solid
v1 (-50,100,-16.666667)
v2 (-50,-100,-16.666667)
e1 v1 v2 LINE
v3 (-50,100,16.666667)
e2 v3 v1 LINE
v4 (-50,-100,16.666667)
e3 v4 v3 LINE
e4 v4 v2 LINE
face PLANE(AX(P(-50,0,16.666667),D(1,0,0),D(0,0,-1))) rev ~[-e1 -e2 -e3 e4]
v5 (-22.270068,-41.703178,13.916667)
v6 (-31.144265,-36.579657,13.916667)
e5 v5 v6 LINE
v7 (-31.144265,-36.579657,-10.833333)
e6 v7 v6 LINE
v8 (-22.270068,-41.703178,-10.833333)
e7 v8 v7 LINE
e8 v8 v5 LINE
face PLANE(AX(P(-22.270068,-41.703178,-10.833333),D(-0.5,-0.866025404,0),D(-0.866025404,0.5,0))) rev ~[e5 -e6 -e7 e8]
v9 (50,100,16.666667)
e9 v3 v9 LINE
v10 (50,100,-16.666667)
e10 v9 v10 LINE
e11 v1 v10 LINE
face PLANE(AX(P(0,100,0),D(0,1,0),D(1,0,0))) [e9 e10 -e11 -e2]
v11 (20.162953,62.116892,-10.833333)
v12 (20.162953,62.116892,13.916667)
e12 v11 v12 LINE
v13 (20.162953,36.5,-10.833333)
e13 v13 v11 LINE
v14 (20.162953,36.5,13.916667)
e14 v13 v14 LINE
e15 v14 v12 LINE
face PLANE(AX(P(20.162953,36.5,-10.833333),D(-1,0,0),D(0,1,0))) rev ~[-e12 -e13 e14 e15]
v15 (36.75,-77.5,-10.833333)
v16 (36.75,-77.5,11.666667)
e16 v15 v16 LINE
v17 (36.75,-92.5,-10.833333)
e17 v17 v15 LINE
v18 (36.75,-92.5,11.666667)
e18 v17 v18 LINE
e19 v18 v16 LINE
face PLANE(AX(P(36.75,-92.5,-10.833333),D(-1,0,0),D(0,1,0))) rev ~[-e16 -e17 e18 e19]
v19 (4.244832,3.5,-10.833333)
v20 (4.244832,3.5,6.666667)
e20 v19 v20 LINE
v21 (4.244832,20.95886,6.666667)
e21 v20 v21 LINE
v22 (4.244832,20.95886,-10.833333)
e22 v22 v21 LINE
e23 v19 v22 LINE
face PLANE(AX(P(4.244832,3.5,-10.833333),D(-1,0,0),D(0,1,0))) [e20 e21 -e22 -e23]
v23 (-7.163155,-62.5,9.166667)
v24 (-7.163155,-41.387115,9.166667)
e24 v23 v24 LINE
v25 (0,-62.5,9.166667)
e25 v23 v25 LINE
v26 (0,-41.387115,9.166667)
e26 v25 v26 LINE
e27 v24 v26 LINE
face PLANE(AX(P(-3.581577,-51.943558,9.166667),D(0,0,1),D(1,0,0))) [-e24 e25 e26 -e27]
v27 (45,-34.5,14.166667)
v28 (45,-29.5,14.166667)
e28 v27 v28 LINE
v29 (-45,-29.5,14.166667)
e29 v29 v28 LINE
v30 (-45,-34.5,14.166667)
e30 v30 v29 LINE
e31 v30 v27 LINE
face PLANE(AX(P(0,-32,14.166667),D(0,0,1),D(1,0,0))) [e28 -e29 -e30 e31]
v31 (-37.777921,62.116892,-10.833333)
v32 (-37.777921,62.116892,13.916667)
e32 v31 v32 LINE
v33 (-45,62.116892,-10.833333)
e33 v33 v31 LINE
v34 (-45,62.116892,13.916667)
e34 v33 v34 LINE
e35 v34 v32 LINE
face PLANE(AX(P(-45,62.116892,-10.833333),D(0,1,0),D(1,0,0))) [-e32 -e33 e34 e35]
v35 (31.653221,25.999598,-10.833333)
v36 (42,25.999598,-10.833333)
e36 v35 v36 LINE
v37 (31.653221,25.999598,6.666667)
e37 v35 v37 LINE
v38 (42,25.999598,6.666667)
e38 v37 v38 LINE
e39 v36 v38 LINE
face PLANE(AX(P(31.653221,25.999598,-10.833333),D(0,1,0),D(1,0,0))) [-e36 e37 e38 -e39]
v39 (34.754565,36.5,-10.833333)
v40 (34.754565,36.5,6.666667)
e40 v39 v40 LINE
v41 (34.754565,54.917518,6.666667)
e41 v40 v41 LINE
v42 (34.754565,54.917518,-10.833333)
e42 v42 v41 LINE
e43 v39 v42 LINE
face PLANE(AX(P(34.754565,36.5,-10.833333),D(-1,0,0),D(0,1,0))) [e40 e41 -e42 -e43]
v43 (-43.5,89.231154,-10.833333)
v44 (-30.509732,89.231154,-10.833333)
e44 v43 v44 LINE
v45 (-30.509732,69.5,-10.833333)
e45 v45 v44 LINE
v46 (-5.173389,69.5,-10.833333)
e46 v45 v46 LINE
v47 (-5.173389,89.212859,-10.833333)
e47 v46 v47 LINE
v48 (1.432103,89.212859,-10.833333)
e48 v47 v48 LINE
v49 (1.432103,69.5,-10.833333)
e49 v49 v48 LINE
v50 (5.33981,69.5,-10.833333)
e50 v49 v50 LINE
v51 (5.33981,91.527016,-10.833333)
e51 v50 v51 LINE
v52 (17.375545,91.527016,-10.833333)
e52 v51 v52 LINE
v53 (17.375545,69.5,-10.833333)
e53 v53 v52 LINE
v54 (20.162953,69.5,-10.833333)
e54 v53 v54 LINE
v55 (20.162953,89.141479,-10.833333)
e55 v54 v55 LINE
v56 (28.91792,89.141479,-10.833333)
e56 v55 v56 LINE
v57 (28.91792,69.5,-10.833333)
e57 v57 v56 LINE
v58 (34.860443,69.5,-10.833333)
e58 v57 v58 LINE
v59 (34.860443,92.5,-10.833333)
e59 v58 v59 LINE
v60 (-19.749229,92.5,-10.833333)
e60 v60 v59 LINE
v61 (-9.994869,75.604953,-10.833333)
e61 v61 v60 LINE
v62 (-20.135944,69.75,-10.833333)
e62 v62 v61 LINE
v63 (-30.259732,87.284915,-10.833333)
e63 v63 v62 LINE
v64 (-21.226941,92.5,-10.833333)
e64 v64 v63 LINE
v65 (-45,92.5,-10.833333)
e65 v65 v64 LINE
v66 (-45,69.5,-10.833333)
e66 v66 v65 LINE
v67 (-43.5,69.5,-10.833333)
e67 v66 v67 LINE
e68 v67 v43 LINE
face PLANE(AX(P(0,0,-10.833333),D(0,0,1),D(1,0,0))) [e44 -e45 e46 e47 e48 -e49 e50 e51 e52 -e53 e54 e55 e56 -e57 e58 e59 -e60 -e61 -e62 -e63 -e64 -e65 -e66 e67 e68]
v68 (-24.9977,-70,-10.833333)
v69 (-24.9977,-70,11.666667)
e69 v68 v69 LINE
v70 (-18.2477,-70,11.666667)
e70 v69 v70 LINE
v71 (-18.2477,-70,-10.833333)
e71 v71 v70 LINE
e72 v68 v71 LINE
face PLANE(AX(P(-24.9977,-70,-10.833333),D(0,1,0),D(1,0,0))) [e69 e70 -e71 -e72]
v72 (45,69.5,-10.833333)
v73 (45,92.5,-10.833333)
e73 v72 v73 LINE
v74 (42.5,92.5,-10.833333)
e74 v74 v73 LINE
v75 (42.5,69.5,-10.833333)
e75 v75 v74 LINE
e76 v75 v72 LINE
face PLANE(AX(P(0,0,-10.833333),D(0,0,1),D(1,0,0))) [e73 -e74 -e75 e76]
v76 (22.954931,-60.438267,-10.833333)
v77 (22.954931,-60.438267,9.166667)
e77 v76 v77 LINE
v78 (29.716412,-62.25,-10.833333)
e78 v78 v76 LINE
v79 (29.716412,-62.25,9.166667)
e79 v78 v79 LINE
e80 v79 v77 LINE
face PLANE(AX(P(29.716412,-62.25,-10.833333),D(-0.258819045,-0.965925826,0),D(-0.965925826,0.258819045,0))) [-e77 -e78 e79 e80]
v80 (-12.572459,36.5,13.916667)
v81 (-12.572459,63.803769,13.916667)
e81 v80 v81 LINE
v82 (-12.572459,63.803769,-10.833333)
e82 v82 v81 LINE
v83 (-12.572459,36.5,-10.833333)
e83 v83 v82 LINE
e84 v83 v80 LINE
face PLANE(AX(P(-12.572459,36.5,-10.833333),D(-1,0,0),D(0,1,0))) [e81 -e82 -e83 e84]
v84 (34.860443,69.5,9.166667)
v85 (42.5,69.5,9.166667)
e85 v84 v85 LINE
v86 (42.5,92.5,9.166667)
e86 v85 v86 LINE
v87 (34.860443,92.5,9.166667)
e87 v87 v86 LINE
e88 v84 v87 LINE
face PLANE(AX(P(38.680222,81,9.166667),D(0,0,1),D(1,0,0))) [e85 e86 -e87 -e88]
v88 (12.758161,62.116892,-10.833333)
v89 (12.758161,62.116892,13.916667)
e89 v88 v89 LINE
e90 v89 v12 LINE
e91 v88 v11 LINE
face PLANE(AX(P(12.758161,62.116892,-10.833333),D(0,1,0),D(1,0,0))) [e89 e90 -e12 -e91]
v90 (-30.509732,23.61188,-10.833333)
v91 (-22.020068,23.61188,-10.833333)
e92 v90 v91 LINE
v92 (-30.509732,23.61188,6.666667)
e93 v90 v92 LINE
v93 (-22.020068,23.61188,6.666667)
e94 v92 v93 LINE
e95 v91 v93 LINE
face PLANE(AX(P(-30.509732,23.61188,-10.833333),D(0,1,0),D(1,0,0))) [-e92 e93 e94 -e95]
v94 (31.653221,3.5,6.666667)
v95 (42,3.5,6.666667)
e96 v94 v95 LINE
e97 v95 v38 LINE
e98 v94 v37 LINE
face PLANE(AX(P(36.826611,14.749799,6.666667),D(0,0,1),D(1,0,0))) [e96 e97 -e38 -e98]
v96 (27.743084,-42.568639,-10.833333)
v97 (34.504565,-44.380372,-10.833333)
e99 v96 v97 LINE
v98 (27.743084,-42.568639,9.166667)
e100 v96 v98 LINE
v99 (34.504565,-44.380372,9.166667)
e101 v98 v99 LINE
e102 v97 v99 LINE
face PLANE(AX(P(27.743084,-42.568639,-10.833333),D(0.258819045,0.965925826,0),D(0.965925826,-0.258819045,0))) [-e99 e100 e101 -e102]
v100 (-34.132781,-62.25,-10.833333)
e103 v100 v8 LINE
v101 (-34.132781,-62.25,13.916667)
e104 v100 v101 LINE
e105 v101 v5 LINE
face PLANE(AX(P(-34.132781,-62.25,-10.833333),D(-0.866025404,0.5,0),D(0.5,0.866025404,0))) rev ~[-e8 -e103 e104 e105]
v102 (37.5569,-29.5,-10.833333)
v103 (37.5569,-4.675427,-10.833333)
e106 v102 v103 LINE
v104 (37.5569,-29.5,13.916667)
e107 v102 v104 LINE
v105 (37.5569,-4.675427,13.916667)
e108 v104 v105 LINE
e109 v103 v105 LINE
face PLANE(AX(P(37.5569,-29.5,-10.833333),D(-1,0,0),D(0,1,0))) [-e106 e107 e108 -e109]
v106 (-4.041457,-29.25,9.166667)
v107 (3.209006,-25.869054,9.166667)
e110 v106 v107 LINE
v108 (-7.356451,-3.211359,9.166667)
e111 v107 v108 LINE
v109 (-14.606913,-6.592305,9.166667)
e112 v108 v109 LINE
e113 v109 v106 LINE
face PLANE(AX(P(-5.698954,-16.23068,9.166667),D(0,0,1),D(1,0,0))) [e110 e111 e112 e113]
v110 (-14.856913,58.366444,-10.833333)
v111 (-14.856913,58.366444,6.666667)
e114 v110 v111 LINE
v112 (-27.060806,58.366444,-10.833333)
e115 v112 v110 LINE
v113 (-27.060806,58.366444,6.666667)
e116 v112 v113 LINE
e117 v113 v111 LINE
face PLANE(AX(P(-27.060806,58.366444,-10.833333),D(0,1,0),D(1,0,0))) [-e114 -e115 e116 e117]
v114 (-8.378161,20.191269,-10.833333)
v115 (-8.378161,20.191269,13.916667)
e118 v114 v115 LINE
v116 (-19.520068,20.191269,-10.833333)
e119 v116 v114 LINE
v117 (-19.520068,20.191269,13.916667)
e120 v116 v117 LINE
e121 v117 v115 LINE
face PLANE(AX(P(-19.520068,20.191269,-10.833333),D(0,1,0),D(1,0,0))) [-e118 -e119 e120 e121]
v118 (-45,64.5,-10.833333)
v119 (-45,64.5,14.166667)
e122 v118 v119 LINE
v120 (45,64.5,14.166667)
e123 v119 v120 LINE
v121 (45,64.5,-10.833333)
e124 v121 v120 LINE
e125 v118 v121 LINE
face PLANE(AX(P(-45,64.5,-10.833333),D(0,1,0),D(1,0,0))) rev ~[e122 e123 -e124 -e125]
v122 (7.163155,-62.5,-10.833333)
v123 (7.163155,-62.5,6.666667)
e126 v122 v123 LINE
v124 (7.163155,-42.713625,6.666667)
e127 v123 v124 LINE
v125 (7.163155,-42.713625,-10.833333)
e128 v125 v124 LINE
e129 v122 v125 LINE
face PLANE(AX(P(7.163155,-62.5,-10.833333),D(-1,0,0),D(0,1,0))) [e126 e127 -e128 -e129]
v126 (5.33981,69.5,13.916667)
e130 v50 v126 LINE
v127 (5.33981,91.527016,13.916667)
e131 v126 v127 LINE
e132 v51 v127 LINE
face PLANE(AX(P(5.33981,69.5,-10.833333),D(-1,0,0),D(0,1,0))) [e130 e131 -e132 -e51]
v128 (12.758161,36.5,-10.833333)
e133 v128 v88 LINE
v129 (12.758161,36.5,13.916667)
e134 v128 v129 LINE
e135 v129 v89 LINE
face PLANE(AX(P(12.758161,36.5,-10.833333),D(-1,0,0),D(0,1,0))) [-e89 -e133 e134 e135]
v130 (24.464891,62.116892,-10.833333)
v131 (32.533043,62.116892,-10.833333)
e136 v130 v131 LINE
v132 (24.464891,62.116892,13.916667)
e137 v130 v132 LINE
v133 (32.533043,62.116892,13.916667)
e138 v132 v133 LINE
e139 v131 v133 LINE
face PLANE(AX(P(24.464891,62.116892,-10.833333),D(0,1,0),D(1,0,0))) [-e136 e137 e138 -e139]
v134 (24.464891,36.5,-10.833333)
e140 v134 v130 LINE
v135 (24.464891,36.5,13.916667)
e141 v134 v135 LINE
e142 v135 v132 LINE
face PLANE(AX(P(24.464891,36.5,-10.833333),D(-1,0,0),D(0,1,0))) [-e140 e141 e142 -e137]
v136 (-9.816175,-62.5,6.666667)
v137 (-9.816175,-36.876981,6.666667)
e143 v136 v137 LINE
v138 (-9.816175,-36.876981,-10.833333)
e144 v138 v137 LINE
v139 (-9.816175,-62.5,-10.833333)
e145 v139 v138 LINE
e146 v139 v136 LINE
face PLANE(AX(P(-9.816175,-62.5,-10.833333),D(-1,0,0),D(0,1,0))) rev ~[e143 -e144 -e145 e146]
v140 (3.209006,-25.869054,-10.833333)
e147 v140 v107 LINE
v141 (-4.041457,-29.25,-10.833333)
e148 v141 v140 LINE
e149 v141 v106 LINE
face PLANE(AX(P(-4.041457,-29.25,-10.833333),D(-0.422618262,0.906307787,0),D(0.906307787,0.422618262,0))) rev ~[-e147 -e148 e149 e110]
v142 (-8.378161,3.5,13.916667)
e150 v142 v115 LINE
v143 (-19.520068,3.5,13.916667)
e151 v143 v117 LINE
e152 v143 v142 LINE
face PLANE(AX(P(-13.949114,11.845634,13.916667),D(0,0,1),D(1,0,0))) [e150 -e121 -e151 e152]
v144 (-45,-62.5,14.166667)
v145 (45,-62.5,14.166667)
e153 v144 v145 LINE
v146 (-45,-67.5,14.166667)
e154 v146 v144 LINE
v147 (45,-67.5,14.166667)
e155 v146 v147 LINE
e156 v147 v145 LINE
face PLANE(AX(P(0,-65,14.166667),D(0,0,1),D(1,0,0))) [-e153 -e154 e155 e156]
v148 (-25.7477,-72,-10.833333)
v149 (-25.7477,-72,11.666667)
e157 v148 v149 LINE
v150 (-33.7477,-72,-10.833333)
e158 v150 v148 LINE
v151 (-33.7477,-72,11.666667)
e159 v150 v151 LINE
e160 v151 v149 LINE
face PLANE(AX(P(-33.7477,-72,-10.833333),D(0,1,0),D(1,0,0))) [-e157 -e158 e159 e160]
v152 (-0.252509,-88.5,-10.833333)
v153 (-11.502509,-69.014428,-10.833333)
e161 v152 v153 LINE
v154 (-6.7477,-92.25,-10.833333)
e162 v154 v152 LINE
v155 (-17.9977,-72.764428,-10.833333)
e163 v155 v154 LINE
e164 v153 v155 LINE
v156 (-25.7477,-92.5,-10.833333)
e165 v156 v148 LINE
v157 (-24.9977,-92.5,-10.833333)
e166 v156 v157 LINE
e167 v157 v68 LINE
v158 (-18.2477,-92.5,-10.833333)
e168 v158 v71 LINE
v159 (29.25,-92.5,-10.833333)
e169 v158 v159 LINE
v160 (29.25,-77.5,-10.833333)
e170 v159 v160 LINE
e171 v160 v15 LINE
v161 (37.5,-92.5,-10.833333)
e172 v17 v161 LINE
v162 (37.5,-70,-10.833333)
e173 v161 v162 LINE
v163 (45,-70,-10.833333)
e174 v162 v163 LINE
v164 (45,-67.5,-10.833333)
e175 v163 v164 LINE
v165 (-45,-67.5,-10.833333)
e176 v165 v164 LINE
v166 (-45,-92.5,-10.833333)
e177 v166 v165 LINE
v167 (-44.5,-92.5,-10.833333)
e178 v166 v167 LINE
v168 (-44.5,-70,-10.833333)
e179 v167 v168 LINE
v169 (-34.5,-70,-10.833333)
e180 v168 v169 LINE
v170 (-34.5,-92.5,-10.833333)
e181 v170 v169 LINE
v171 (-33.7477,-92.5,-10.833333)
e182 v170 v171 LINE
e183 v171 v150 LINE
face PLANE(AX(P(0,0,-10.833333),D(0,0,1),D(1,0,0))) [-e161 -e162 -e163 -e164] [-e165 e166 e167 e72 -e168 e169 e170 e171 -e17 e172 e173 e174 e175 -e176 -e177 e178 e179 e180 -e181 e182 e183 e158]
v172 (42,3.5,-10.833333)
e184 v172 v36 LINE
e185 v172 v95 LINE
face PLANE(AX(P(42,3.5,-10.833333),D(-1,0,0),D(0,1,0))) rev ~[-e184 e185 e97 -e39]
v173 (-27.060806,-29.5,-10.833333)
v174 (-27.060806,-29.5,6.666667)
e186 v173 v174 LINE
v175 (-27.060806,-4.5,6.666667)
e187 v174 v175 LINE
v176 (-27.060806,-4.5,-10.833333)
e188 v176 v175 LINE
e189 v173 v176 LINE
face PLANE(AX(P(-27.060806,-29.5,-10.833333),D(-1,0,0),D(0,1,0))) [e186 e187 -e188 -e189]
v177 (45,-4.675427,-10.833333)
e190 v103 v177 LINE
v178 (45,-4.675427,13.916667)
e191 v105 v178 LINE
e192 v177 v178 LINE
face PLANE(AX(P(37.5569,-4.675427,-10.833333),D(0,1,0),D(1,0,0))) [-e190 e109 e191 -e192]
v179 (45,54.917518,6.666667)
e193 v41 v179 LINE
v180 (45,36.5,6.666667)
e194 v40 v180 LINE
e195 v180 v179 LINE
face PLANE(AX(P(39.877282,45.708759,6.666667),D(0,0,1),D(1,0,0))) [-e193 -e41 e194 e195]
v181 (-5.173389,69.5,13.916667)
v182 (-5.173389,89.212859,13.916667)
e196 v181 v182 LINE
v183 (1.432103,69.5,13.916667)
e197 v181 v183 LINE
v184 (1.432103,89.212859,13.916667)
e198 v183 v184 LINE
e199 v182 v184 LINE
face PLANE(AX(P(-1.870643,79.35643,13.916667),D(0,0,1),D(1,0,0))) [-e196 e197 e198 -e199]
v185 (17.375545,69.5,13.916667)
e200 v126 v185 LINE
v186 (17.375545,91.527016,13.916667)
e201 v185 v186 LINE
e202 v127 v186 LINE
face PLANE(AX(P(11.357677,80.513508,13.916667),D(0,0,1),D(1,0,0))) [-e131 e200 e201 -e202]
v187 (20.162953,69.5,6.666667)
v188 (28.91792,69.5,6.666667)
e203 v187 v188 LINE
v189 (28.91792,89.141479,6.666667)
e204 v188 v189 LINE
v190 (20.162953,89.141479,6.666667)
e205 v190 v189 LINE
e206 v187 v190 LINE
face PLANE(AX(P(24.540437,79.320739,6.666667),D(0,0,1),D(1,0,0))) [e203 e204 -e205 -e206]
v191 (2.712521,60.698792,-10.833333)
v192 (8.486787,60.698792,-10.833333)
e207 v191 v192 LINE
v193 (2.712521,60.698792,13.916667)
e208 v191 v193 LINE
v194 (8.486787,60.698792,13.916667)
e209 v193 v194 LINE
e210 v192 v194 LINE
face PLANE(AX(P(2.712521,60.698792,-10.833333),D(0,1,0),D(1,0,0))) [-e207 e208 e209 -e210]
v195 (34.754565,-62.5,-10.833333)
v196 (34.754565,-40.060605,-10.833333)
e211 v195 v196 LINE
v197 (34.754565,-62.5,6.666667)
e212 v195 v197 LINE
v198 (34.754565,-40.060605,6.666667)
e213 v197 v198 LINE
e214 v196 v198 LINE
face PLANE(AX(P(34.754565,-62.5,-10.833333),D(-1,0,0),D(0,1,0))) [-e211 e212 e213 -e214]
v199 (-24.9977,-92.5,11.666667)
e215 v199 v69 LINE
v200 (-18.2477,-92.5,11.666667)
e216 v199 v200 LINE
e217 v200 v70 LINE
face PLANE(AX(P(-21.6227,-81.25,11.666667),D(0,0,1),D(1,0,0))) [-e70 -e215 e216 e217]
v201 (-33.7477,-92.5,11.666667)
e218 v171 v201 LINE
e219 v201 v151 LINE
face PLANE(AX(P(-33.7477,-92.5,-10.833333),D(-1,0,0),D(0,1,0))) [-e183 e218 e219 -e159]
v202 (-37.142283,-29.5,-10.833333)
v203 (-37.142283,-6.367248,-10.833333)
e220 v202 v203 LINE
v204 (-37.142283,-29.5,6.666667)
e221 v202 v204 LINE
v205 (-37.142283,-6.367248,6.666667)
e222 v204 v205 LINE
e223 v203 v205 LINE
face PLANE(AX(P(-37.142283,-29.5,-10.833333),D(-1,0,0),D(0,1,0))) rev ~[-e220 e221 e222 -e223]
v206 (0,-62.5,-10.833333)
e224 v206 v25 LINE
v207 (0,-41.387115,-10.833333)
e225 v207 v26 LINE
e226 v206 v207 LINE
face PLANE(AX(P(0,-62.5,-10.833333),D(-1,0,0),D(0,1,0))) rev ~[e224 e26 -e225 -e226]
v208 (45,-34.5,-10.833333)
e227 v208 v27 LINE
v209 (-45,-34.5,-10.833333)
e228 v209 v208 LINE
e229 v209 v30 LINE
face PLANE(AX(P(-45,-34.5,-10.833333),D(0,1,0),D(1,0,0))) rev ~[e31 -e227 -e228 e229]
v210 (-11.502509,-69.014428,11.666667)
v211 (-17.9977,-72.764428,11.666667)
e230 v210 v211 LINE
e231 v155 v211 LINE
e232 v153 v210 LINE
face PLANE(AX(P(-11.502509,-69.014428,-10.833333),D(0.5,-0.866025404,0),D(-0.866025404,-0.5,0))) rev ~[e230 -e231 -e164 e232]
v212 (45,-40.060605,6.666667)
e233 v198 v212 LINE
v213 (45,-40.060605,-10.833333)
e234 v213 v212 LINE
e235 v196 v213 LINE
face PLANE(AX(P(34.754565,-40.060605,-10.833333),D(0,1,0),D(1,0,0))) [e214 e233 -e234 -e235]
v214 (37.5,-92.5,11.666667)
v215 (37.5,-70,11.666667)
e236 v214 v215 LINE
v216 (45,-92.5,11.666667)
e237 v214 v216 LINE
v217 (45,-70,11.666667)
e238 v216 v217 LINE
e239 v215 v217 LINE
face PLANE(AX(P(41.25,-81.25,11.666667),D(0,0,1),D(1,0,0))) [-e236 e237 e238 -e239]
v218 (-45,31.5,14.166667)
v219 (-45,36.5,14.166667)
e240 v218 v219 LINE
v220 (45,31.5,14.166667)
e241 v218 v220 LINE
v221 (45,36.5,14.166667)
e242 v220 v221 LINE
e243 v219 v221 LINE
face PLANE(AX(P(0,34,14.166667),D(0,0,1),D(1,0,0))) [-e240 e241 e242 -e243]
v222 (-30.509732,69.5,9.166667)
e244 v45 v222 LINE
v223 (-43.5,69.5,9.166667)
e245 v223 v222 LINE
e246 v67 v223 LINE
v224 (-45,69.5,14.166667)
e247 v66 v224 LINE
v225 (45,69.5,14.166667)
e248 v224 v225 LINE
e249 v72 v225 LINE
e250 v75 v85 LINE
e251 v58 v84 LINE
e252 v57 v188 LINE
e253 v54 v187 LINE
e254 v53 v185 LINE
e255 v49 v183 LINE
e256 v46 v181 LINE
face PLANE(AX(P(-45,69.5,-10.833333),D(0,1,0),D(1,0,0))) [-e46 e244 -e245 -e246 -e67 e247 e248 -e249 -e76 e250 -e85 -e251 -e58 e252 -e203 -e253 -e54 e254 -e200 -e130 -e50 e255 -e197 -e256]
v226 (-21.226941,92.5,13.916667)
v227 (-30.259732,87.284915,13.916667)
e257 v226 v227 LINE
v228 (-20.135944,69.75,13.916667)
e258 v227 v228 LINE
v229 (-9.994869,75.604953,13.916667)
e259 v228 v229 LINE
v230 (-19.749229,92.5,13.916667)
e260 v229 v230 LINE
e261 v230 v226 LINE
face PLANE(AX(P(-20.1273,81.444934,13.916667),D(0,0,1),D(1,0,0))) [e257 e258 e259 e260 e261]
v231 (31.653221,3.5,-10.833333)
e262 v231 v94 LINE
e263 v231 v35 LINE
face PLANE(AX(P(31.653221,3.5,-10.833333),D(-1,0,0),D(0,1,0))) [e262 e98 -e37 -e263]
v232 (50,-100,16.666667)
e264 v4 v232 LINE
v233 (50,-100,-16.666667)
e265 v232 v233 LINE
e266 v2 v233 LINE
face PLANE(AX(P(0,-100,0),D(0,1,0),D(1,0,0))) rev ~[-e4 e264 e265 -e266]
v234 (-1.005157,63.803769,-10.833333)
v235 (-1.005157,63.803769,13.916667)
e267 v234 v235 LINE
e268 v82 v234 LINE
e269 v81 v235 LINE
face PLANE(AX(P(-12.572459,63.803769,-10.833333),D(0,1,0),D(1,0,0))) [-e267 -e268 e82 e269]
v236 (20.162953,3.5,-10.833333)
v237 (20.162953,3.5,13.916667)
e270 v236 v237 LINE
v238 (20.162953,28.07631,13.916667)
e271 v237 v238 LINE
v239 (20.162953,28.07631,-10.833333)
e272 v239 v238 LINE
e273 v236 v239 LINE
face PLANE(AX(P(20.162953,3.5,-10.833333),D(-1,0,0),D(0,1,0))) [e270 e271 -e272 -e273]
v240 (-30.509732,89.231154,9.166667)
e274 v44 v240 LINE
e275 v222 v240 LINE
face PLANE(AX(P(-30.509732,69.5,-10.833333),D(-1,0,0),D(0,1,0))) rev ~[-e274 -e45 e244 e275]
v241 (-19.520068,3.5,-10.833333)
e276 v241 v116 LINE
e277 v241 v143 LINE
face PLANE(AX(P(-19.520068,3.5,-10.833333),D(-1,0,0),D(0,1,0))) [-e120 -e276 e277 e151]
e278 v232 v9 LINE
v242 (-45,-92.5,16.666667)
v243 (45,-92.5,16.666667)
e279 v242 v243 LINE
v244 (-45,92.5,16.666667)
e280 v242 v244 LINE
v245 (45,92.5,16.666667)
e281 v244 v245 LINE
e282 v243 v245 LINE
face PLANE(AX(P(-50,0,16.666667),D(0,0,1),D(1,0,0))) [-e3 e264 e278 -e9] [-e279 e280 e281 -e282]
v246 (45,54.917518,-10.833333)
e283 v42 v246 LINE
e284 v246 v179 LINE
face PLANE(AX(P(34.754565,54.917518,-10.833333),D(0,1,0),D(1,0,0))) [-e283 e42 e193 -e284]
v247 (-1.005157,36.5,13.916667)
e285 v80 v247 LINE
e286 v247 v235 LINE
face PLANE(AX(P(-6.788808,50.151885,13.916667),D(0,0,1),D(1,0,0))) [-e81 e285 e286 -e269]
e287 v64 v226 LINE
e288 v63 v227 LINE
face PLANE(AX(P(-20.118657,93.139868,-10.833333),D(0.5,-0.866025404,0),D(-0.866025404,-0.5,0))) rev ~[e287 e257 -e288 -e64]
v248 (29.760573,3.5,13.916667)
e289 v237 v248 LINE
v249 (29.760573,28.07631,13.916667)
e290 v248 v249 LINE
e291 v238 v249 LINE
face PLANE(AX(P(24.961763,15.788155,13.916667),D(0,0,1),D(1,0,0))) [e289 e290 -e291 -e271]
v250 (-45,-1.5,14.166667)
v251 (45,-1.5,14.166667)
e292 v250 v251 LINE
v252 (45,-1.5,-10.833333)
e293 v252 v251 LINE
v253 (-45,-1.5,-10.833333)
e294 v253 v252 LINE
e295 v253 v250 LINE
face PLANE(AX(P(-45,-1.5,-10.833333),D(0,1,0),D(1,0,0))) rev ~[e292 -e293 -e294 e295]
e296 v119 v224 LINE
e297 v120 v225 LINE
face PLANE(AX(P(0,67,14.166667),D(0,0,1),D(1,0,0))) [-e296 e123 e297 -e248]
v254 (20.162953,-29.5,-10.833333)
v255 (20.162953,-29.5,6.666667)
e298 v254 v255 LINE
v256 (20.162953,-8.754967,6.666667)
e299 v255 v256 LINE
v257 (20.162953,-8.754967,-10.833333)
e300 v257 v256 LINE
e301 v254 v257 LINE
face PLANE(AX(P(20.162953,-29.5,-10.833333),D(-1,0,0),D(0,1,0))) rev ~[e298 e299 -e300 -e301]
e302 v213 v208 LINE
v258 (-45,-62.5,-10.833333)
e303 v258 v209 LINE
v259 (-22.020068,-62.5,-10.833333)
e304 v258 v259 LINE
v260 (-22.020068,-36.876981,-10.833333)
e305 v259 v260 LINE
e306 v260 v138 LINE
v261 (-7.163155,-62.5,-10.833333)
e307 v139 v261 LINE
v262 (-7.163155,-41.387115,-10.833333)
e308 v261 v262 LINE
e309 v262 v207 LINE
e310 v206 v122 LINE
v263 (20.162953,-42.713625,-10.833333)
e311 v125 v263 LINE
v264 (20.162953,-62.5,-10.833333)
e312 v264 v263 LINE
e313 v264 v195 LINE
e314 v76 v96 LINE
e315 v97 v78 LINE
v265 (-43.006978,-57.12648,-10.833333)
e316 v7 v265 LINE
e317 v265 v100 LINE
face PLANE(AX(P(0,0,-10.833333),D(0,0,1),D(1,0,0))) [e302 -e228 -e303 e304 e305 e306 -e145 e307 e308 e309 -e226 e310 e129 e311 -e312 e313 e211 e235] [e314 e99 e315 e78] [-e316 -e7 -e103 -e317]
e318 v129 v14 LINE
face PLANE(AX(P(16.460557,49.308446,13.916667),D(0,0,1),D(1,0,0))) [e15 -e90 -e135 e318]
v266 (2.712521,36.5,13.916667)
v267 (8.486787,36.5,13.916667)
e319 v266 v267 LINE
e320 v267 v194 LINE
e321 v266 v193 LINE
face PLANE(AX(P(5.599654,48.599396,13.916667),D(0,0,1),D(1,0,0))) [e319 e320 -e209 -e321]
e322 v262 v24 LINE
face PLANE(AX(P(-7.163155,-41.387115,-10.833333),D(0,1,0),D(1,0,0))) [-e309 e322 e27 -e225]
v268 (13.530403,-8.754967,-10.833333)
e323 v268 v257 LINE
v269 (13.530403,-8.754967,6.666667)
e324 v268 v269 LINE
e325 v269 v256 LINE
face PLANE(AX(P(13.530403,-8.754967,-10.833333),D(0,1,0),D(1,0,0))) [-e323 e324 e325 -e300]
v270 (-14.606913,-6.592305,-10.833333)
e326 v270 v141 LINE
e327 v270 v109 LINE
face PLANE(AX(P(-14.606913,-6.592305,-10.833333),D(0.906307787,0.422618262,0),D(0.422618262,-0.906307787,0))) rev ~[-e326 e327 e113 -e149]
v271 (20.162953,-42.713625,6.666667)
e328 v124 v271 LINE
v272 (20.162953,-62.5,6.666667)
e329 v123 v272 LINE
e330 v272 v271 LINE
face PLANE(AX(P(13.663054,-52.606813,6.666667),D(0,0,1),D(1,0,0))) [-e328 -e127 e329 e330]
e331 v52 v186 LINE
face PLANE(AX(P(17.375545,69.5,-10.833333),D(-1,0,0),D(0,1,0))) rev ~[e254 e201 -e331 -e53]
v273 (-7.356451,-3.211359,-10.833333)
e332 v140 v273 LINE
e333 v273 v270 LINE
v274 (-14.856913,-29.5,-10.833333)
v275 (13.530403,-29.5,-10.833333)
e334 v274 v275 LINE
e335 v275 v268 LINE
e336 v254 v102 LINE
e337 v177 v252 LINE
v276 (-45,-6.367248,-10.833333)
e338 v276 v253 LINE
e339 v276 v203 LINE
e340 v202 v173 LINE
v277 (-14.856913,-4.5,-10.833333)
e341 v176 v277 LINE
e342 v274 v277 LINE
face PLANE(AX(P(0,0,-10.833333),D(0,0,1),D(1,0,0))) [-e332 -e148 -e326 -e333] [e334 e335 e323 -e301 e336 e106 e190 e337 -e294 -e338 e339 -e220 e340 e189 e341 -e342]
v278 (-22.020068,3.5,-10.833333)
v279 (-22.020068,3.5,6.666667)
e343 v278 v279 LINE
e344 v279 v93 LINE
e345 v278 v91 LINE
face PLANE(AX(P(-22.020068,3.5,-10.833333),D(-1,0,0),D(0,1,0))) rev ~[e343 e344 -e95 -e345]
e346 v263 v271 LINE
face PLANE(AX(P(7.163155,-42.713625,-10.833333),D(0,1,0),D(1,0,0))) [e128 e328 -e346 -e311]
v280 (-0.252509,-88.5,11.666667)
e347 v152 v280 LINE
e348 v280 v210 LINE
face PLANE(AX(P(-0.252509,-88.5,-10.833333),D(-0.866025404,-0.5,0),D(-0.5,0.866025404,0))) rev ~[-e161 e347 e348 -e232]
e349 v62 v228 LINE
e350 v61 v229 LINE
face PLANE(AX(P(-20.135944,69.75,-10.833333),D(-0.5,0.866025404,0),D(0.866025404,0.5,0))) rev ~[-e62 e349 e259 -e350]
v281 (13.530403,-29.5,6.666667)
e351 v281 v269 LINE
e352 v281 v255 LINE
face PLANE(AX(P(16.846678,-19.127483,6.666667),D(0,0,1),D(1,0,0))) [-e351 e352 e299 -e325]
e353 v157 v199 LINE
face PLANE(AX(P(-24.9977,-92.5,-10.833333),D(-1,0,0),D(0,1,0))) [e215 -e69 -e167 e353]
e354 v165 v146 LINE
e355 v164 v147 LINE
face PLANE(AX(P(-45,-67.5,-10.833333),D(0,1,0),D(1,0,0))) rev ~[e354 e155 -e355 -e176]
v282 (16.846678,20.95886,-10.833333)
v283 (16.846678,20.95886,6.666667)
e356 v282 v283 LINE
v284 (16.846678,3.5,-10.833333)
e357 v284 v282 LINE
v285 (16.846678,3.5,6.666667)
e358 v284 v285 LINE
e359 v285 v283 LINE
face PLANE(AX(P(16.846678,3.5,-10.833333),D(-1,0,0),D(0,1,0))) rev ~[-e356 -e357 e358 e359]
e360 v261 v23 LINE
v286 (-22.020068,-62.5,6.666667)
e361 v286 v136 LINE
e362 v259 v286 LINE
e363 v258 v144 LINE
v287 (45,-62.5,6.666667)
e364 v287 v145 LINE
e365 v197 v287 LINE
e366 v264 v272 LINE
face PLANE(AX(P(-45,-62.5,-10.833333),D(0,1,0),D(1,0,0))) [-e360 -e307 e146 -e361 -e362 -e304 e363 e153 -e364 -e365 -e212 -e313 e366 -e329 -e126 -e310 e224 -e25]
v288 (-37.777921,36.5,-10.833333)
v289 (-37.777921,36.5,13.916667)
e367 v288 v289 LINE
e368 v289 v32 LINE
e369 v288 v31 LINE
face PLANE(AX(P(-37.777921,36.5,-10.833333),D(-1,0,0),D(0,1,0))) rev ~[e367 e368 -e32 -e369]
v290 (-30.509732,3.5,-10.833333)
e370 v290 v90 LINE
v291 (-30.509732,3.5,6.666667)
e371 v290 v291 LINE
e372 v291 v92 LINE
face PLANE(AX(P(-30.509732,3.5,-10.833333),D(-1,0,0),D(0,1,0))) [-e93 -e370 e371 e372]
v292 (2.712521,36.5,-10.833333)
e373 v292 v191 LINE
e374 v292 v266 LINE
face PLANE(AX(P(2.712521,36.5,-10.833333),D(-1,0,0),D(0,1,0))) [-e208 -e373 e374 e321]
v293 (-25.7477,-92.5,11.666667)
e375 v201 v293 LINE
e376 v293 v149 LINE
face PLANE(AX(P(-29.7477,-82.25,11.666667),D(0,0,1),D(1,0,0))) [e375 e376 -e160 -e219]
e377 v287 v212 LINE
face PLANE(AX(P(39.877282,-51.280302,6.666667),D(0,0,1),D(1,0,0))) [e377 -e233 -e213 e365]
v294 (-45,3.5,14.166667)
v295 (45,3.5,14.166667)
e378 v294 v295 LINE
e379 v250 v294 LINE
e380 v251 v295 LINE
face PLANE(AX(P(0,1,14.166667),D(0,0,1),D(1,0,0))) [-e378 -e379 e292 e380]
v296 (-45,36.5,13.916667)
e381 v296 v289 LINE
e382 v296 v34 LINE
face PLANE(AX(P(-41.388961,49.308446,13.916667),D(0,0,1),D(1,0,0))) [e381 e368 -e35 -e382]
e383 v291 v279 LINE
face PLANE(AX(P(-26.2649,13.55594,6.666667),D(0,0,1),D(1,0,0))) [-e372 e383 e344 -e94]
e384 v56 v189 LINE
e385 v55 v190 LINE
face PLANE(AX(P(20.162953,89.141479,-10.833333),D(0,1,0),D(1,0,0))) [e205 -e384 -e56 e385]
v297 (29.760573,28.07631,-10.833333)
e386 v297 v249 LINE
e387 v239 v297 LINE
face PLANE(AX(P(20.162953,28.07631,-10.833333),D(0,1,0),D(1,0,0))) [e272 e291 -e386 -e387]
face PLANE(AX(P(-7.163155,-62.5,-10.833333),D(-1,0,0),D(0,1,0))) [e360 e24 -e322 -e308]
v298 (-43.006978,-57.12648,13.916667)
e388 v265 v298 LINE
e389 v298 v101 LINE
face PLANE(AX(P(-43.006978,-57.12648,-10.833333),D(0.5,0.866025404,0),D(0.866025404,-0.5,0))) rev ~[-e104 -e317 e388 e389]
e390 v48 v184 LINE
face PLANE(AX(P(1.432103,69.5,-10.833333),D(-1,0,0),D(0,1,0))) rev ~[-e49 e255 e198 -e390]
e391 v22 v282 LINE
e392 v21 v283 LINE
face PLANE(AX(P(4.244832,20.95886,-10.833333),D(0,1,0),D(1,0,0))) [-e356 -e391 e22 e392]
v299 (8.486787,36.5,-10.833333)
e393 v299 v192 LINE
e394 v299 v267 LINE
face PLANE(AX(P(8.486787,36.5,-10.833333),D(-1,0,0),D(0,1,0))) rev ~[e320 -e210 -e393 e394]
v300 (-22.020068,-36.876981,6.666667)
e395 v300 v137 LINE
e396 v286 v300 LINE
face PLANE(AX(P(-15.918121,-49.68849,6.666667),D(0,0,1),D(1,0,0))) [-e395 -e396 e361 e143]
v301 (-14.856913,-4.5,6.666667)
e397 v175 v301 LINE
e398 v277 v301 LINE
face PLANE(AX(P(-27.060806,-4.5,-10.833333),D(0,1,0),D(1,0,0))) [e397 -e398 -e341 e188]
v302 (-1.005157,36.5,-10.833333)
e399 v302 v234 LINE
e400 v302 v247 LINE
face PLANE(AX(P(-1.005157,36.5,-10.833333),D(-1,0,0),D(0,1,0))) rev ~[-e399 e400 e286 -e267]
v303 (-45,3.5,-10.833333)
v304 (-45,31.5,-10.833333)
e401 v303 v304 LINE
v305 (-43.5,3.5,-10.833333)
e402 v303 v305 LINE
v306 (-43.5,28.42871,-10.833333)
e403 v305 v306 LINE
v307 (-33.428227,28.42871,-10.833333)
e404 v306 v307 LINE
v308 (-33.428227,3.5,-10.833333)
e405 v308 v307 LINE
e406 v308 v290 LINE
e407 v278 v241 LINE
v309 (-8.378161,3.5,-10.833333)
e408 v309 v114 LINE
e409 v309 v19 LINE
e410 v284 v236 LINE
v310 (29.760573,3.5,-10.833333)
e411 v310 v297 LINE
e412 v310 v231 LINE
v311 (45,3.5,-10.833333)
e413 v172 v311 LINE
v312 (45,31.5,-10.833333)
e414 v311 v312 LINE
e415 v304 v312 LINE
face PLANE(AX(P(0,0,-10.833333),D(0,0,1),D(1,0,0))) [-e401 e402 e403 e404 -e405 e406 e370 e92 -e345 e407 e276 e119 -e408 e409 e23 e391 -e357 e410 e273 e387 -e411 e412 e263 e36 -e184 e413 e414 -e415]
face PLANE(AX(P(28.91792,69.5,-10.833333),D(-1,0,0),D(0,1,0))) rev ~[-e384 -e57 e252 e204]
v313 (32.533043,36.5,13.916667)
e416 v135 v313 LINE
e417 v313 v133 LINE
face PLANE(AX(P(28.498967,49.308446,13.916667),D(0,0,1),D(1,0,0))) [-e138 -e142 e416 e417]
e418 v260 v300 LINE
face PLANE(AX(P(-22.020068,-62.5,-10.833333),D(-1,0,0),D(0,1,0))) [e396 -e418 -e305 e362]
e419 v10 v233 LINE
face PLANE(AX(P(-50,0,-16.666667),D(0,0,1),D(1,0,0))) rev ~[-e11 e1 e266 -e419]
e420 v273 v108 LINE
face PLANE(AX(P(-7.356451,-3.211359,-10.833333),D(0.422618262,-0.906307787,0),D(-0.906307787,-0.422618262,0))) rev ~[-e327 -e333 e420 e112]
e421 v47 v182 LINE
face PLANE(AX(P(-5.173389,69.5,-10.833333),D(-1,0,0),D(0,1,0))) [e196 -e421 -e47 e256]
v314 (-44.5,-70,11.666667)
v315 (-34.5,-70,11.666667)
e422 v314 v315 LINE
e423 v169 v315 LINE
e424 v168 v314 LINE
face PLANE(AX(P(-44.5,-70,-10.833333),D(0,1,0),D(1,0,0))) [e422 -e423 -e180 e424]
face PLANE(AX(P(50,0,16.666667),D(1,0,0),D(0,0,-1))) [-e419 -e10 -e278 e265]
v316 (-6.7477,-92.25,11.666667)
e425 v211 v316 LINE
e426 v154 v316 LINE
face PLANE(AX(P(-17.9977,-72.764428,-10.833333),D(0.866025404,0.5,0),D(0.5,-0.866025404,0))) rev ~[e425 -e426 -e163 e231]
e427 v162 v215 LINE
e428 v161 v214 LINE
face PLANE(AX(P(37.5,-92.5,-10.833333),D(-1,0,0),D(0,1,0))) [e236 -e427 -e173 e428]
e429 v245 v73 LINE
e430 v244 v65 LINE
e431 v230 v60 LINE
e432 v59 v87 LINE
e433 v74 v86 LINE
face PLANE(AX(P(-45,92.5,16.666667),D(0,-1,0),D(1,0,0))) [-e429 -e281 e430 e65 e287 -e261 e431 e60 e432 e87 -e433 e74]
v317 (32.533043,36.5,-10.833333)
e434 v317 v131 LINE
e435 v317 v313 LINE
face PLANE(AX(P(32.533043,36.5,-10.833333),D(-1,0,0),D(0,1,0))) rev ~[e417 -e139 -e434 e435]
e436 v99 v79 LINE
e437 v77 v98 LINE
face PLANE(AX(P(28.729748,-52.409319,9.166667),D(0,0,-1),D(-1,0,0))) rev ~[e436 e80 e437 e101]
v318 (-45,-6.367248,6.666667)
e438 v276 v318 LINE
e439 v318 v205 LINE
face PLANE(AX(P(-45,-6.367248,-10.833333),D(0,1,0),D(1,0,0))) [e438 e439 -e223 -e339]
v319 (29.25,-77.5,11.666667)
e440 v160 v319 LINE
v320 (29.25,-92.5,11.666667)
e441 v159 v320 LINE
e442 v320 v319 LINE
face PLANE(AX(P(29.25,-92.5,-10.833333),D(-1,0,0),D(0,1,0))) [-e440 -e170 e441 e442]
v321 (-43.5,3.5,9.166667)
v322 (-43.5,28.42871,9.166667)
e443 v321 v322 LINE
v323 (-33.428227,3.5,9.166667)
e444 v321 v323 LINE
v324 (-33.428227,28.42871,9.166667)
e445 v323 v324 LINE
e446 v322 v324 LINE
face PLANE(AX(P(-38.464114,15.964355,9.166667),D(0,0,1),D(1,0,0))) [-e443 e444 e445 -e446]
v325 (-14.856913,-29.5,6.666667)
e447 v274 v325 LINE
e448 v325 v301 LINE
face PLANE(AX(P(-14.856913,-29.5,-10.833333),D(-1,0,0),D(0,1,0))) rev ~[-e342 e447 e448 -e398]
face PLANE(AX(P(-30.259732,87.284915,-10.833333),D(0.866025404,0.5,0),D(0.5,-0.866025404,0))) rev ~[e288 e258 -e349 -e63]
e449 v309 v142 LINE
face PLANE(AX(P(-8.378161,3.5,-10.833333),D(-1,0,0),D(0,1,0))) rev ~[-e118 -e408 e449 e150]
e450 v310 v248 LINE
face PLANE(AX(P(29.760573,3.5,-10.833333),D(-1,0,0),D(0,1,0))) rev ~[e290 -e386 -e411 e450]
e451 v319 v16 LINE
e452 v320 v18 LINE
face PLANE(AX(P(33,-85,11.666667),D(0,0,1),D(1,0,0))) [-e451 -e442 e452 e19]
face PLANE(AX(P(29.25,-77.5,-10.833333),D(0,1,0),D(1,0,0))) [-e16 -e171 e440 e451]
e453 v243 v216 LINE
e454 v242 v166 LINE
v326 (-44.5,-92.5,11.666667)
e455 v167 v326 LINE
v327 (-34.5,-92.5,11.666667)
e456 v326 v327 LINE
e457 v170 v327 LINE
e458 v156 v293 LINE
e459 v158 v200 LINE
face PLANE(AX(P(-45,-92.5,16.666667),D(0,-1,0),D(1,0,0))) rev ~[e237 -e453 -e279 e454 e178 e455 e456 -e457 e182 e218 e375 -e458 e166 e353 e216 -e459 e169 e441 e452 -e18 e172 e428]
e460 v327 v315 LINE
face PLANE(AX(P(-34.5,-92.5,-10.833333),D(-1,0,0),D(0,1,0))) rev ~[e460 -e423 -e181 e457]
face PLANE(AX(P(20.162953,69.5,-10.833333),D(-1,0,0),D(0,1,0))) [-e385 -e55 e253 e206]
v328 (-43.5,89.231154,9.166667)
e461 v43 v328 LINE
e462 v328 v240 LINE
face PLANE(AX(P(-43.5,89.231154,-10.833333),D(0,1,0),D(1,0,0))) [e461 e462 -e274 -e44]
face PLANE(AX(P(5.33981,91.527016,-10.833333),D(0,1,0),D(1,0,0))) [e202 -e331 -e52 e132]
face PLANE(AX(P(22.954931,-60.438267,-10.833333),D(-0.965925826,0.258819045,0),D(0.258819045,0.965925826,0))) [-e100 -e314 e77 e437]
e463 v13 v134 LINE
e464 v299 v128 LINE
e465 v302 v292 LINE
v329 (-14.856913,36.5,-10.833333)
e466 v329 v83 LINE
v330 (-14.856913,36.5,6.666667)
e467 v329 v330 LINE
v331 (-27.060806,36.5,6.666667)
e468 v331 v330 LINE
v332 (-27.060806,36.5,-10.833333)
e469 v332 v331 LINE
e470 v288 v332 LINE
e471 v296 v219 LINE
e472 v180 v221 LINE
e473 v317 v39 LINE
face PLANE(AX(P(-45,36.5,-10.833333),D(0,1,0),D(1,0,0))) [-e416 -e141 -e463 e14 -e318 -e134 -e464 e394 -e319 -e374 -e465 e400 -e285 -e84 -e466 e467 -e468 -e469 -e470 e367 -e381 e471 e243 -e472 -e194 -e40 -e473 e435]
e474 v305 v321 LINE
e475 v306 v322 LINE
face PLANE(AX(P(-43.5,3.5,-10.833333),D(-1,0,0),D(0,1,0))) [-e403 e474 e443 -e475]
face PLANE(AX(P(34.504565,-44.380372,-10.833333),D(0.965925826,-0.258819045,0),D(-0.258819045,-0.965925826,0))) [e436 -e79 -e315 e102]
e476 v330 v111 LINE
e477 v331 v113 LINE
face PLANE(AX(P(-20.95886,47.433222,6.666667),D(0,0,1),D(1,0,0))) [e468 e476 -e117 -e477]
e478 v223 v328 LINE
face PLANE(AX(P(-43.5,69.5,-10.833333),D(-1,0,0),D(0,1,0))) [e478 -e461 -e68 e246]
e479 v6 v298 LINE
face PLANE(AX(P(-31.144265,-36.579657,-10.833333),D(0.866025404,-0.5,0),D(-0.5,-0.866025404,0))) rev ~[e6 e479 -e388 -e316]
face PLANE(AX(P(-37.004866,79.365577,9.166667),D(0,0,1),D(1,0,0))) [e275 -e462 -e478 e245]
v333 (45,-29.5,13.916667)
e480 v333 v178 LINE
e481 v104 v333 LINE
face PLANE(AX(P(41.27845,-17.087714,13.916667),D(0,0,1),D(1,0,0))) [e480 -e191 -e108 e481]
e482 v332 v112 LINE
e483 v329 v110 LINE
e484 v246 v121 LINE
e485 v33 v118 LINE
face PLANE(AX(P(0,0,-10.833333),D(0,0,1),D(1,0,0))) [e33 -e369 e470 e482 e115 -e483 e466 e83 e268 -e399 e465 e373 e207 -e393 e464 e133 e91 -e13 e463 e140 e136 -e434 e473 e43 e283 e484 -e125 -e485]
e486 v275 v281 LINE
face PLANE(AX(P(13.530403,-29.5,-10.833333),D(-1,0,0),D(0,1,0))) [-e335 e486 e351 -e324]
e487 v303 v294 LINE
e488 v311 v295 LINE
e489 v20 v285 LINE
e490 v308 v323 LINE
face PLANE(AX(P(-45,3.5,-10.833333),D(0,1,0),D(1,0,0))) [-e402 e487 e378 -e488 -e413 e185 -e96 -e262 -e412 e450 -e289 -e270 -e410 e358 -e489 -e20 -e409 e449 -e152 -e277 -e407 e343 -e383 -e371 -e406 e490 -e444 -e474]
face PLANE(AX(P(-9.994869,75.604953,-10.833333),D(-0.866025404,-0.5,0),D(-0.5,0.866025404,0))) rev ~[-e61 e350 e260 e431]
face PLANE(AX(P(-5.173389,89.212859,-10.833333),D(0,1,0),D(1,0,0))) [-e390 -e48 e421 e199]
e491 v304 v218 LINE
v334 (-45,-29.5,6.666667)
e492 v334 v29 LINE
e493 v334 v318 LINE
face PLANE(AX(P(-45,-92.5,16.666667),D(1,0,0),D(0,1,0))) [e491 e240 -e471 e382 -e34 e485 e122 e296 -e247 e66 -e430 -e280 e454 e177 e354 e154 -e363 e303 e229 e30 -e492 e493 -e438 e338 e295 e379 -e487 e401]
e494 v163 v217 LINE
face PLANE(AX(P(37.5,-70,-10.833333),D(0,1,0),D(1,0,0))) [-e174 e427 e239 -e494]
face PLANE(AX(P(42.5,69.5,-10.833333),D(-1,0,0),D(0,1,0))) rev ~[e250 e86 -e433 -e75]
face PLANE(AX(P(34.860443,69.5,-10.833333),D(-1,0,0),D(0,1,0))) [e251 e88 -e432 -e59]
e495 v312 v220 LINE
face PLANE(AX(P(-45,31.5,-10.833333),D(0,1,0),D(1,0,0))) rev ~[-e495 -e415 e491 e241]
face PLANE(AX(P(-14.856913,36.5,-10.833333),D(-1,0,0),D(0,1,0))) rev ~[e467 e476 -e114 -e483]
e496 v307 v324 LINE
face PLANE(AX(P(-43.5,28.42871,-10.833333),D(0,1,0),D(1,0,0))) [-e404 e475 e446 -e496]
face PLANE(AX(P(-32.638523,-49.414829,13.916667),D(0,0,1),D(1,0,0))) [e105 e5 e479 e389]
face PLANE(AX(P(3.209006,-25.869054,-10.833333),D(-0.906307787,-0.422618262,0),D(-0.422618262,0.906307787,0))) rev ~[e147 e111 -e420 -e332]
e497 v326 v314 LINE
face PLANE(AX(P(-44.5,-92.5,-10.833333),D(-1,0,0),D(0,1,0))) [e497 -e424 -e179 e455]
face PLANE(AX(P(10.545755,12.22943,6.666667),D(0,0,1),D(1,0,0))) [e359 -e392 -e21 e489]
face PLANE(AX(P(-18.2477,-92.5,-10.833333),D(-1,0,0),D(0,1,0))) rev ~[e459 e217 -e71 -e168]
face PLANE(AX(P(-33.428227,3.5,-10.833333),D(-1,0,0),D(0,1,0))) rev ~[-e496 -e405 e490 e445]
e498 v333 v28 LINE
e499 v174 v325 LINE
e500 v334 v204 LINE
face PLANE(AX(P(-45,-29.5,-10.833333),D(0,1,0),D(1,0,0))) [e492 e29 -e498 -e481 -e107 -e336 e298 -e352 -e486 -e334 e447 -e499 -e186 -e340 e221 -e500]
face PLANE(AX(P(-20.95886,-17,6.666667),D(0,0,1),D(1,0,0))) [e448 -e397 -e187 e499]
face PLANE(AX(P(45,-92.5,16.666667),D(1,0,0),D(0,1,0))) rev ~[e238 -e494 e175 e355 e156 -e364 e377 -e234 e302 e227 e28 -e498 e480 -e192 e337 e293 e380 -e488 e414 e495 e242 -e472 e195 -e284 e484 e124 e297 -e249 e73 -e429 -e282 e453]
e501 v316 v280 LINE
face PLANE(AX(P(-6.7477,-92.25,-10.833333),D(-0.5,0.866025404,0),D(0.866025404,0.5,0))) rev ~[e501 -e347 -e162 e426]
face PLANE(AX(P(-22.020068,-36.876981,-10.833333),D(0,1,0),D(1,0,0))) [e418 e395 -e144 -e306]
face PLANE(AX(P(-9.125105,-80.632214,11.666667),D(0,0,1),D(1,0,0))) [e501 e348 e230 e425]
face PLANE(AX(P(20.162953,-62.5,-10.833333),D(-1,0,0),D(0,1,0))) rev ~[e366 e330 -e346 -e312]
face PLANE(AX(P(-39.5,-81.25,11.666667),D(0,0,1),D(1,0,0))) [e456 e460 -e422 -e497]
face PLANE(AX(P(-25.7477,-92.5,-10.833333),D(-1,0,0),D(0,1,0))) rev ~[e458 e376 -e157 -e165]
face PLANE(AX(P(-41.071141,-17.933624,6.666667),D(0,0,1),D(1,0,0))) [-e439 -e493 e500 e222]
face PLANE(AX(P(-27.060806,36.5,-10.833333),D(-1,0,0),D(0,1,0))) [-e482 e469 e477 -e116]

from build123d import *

# Parameters (mm, degrees)
SKETCH1_W           = 100
SKETCH1_H           = 33.333333334
BOSS_EXTRUDE1_DEPTH = 100
SKETCH2_W           = 90
SKETCH2_H           = 185
CUT_EXTRUDE1_DEPTH  = 27.5
SKETCH3_W           = 90
SKETCH3_H           = 5
BOSS_EXTRUDE2_DEPTH = 25
SKETCH4_W           = 7.5
SKETCH4_H           = 22.5
SKETCH4_H_2         = 15
SKETCH4_W_2         = 10
SKETCH4_W_3         = 8
SKETCH4_H_3         = 20.5
SKETCH4_W_4         = 6.75
BOSS_EXTRUDE5_DEPTH = 22.5
SKETCH5_W           = 10.245435458
SKETCH5_H           = 22.43939507
SKETCH5_W_2         = 12.999798951
SKETCH5_H_2         = 19.786374876
SKETCH5_W_3         = 12.203892893
SKETCH5_H_3         = 25.623019303
SKETCH5_W_4         = 7.857717283
SKETCH5_H_4         = 23.132751534
SKETCH5_W_5         = 12.203892892
SKETCH5_H_5         = 25
SKETCH5_W_6         = 6.632550485
SKETCH5_H_6         = 20.74503336
SKETCH5_W_7         = 10.346778757
SKETCH5_H_7         = 22.499597902
SKETCH5_W_8         = 12.601845922
SKETCH5_H_8         = 17.458859533
SKETCH5_W_9         = 8.489664621
SKETCH5_H_9         = 20.111879727
SKETCH5_H_10        = 18.417518017
SKETCH5_H_11        = 21.866444269
SKETCH5_W_10        = 8.75496664
SKETCH5_H_12        = 19.64147852
BOSS_EXTRUDE6_DEPTH = 17.5
SKETCH6_W           = 7.163154524
SKETCH6_H           = 21.112884973
SKETCH6_W_2         = 10.071772785
SKETCH6_H_2         = 24.928709858
SKETCH6_W_3         = 7.639556761
SKETCH6_H_3         = 23
SKETCH6_W_4         = 12.990267768
SKETCH6_H_4         = 19.731154058
BOSS_EXTRUDE7_DEPTH = 20
SKETCH7_W           = 7.443100334
SKETCH7_H           = 24.824572523
SKETCH7_W_2         = 11.141906558
SKETCH7_H_2         = 16.691268837
SKETCH7_W_3         = 9.597619028
SKETCH7_H_3         = 24.576310401
SKETCH7_W_4         = 7.222078614
SKETCH7_H_4         = 25.616891847
SKETCH7_W_5         = 11.567302571
SKETCH7_H_5         = 27.303769204
SKETCH7_W_6         = 5.774265567
SKETCH7_H_6         = 24.198791538
SKETCH7_W_7         = 7.404792338
SKETCH7_W_8         = 8.068151888
SKETCH7_W_9         = 12.035735356
SKETCH7_H_7         = 22.027016439
SKETCH7_W_10        = 6.605492776
SKETCH7_H_8         = 19.712859317
BOSS_EXTRUDE9_DEPTH = 24.75


with BuildPart() as part:
    # Sketch1 → Boss-Extrude1 (new body, symmetric)
    with BuildSketch(Plane(origin=(0, 0, 0), x_dir=(1, 0, 0), z_dir=(0, 1, 0))):
        Rectangle(SKETCH1_W, SKETCH1_H)
    extrude(amount=BOSS_EXTRUDE1_DEPTH, both=True)

    # Sketch2 → Cut-Extrude1 (cut)
    with BuildSketch(Plane.XY.offset(16.666666667)):
        Rectangle(SKETCH2_W, SKETCH2_H)
    extrude(amount=-CUT_EXTRUDE1_DEPTH, mode=Mode.SUBTRACT)

    # Sketch3 → Boss-Extrude2 (add)
    with BuildSketch(Plane.XY.offset(-10.833333333)):
        with Locations((0, -65)):
            Rectangle(SKETCH3_W, SKETCH3_H)
        with Locations((0, -32)):
            Rectangle(SKETCH3_W, SKETCH3_H)
        with Locations((0, 1)):
            Rectangle(SKETCH3_W, SKETCH3_H)
        with Locations((0, 34)):
            Rectangle(SKETCH3_W, SKETCH3_H)
        with Locations((0, 67)):
            Rectangle(SKETCH3_W, SKETCH3_H)
    extrude(amount=BOSS_EXTRUDE2_DEPTH)

    # Sketch4 → Boss-Extrude5 (add)
    with BuildSketch(Plane.XY.offset(-10.833333333)):
        with Locations((41.25, -81.25)):
            Rectangle(SKETCH4_W, SKETCH4_H)
        with Locations((33, -85)):
            Rectangle(SKETCH4_W, SKETCH4_H_2)
        with Locations((-39.5, -81.25)):
            Rectangle(SKETCH4_W_2, SKETCH4_H)
        with Locations((-29.7477, -82.25)):
            Rectangle(SKETCH4_W_3, SKETCH4_H_3)
        with Locations((-21.6227, -81.25)):
            Rectangle(SKETCH4_W_4, SKETCH4_H)
        Polygon((-17.9977, -72.764428415), (-6.7477, -92.25), (-0.252509472, -88.5), (-11.502509472, -69.014428415), align=None)
    extrude(amount=BOSS_EXTRUDE5_DEPTH)

    # Sketch5 → Boss-Extrude6 (add)
    with BuildSketch(Plane.XY.offset(-10.833333333)):
        with Locations((39.877282271, -51.280302465)):
            Rectangle(SKETCH5_W, SKETCH5_H)
        with Locations((13.663054, -52.606812562)):
            Rectangle(SKETCH5_W_2, SKETCH5_H_2)
        with Locations((-15.918121165, -49.688490349)):
            Rectangle(SKETCH5_W_3, SKETCH5_H_3)
        with Locations((-41.071141359, -17.933624233)):
            Rectangle(SKETCH5_W_4, SKETCH5_H_4)
        with Locations((-20.958859533, -17)):
            Rectangle(SKETCH5_W_5, SKETCH5_H_5)
        with Locations((16.846678233, -19.12748332)):
            Rectangle(SKETCH5_W_6, SKETCH5_H_6)
        with Locations((36.826610622, 14.749798951)):
            Rectangle(SKETCH5_W_7, SKETCH5_H_7)
        with Locations((10.545755271, 12.229429767)):
            Rectangle(SKETCH5_W_8, SKETCH5_H_8)
        with Locations((-26.264899922, 13.555939864)):
            Rectangle(SKETCH5_W_9, SKETCH5_H_9)
        with Locations((39.877282271, 45.708759009)):
            Rectangle(SKETCH5_W, SKETCH5_H_10)
        with Locations((-20.958859533, 47.433222134)):
            Rectangle(SKETCH5_W_5, SKETCH5_H_11)
        with Locations((24.540436795, 79.32073926)):
            Rectangle(SKETCH5_W_10, SKETCH5_H_12)
    extrude(amount=BOSS_EXTRUDE6_DEPTH)

    # Sketch6 → Boss-Extrude7 (add)
    with BuildSketch(Plane.XY.offset(-10.833333333)):
        with Locations((-3.581577262, -51.943557514)):
            Rectangle(SKETCH6_W, SKETCH6_H)
        Polygon((27.743083758, -42.568638898), (34.504564542, -44.380372214), (29.716412208, -62.25), (22.954931424, -60.438266684), align=None)
        Polygon((-14.606913087, -6.592305324), (-4.041456543, -29.25), (3.209005753, -25.869053906), (-7.35645079, -3.21135923), align=None)
        with Locations((-38.464113607, 15.964354929)):
            Rectangle(SKETCH6_W_2, SKETCH6_H_2)
        with Locations((38.68022162, 81)):
            Rectangle(SKETCH6_W_3, SKETCH6_H_3)
        with Locations((-37.004866116, 79.365577029)):
            Rectangle(SKETCH6_W_4, SKETCH6_H_4)
    extrude(amount=BOSS_EXTRUDE7_DEPTH)

    # Sketch7 → Boss-Extrude9 (add)
    with BuildSketch(Plane.XY.offset(-10.833333333)):
        Polygon((-22.270067611, -41.703177725), (-31.144265017, -36.579657463), (-43.006978388, -57.126479739), (-34.132780982, -62.25), align=None)
        with Locations((41.278449833, -17.087713739)):
            Rectangle(SKETCH7_W, SKETCH7_H)
        with Locations((-13.949114332, 11.845634419)):
            Rectangle(SKETCH7_W_2, SKETCH7_H_2)
        with Locations((24.961762989, 15.788155201)):
            Rectangle(SKETCH7_W_3, SKETCH7_H_3)
        with Locations((-41.388960693, 49.308445924)):
            Rectangle(SKETCH7_W_4, SKETCH7_H_4)
        with Locations((-6.788808075, 50.151884602)):
            Rectangle(SKETCH7_W_5, SKETCH7_H_5)
        with Locations((5.599653825, 48.599395769)):
            Rectangle(SKETCH7_W_6, SKETCH7_H_6)
        with Locations((16.460557306, 49.308445924)):
            Rectangle(SKETCH7_W_7, SKETCH7_H_4)
        with Locations((28.498967272, 49.308445924)):
            Rectangle(SKETCH7_W_8, SKETCH7_H_4)
        Polygon((-30.259732232, 87.284915382), (-20.135944116, 69.75), (-9.994868577, 75.604952692), (-20.118656693, 93.139868074), align=None)
        with Locations((11.35767736, 80.51350822)):
            Rectangle(SKETCH7_W_9, SKETCH7_H_7)
        with Locations((-1.87064299, 79.356429659)):
            Rectangle(SKETCH7_W_10, SKETCH7_H_8)
    extrude(amount=BOSS_EXTRUDE9_DEPTH)


solid = part.part
